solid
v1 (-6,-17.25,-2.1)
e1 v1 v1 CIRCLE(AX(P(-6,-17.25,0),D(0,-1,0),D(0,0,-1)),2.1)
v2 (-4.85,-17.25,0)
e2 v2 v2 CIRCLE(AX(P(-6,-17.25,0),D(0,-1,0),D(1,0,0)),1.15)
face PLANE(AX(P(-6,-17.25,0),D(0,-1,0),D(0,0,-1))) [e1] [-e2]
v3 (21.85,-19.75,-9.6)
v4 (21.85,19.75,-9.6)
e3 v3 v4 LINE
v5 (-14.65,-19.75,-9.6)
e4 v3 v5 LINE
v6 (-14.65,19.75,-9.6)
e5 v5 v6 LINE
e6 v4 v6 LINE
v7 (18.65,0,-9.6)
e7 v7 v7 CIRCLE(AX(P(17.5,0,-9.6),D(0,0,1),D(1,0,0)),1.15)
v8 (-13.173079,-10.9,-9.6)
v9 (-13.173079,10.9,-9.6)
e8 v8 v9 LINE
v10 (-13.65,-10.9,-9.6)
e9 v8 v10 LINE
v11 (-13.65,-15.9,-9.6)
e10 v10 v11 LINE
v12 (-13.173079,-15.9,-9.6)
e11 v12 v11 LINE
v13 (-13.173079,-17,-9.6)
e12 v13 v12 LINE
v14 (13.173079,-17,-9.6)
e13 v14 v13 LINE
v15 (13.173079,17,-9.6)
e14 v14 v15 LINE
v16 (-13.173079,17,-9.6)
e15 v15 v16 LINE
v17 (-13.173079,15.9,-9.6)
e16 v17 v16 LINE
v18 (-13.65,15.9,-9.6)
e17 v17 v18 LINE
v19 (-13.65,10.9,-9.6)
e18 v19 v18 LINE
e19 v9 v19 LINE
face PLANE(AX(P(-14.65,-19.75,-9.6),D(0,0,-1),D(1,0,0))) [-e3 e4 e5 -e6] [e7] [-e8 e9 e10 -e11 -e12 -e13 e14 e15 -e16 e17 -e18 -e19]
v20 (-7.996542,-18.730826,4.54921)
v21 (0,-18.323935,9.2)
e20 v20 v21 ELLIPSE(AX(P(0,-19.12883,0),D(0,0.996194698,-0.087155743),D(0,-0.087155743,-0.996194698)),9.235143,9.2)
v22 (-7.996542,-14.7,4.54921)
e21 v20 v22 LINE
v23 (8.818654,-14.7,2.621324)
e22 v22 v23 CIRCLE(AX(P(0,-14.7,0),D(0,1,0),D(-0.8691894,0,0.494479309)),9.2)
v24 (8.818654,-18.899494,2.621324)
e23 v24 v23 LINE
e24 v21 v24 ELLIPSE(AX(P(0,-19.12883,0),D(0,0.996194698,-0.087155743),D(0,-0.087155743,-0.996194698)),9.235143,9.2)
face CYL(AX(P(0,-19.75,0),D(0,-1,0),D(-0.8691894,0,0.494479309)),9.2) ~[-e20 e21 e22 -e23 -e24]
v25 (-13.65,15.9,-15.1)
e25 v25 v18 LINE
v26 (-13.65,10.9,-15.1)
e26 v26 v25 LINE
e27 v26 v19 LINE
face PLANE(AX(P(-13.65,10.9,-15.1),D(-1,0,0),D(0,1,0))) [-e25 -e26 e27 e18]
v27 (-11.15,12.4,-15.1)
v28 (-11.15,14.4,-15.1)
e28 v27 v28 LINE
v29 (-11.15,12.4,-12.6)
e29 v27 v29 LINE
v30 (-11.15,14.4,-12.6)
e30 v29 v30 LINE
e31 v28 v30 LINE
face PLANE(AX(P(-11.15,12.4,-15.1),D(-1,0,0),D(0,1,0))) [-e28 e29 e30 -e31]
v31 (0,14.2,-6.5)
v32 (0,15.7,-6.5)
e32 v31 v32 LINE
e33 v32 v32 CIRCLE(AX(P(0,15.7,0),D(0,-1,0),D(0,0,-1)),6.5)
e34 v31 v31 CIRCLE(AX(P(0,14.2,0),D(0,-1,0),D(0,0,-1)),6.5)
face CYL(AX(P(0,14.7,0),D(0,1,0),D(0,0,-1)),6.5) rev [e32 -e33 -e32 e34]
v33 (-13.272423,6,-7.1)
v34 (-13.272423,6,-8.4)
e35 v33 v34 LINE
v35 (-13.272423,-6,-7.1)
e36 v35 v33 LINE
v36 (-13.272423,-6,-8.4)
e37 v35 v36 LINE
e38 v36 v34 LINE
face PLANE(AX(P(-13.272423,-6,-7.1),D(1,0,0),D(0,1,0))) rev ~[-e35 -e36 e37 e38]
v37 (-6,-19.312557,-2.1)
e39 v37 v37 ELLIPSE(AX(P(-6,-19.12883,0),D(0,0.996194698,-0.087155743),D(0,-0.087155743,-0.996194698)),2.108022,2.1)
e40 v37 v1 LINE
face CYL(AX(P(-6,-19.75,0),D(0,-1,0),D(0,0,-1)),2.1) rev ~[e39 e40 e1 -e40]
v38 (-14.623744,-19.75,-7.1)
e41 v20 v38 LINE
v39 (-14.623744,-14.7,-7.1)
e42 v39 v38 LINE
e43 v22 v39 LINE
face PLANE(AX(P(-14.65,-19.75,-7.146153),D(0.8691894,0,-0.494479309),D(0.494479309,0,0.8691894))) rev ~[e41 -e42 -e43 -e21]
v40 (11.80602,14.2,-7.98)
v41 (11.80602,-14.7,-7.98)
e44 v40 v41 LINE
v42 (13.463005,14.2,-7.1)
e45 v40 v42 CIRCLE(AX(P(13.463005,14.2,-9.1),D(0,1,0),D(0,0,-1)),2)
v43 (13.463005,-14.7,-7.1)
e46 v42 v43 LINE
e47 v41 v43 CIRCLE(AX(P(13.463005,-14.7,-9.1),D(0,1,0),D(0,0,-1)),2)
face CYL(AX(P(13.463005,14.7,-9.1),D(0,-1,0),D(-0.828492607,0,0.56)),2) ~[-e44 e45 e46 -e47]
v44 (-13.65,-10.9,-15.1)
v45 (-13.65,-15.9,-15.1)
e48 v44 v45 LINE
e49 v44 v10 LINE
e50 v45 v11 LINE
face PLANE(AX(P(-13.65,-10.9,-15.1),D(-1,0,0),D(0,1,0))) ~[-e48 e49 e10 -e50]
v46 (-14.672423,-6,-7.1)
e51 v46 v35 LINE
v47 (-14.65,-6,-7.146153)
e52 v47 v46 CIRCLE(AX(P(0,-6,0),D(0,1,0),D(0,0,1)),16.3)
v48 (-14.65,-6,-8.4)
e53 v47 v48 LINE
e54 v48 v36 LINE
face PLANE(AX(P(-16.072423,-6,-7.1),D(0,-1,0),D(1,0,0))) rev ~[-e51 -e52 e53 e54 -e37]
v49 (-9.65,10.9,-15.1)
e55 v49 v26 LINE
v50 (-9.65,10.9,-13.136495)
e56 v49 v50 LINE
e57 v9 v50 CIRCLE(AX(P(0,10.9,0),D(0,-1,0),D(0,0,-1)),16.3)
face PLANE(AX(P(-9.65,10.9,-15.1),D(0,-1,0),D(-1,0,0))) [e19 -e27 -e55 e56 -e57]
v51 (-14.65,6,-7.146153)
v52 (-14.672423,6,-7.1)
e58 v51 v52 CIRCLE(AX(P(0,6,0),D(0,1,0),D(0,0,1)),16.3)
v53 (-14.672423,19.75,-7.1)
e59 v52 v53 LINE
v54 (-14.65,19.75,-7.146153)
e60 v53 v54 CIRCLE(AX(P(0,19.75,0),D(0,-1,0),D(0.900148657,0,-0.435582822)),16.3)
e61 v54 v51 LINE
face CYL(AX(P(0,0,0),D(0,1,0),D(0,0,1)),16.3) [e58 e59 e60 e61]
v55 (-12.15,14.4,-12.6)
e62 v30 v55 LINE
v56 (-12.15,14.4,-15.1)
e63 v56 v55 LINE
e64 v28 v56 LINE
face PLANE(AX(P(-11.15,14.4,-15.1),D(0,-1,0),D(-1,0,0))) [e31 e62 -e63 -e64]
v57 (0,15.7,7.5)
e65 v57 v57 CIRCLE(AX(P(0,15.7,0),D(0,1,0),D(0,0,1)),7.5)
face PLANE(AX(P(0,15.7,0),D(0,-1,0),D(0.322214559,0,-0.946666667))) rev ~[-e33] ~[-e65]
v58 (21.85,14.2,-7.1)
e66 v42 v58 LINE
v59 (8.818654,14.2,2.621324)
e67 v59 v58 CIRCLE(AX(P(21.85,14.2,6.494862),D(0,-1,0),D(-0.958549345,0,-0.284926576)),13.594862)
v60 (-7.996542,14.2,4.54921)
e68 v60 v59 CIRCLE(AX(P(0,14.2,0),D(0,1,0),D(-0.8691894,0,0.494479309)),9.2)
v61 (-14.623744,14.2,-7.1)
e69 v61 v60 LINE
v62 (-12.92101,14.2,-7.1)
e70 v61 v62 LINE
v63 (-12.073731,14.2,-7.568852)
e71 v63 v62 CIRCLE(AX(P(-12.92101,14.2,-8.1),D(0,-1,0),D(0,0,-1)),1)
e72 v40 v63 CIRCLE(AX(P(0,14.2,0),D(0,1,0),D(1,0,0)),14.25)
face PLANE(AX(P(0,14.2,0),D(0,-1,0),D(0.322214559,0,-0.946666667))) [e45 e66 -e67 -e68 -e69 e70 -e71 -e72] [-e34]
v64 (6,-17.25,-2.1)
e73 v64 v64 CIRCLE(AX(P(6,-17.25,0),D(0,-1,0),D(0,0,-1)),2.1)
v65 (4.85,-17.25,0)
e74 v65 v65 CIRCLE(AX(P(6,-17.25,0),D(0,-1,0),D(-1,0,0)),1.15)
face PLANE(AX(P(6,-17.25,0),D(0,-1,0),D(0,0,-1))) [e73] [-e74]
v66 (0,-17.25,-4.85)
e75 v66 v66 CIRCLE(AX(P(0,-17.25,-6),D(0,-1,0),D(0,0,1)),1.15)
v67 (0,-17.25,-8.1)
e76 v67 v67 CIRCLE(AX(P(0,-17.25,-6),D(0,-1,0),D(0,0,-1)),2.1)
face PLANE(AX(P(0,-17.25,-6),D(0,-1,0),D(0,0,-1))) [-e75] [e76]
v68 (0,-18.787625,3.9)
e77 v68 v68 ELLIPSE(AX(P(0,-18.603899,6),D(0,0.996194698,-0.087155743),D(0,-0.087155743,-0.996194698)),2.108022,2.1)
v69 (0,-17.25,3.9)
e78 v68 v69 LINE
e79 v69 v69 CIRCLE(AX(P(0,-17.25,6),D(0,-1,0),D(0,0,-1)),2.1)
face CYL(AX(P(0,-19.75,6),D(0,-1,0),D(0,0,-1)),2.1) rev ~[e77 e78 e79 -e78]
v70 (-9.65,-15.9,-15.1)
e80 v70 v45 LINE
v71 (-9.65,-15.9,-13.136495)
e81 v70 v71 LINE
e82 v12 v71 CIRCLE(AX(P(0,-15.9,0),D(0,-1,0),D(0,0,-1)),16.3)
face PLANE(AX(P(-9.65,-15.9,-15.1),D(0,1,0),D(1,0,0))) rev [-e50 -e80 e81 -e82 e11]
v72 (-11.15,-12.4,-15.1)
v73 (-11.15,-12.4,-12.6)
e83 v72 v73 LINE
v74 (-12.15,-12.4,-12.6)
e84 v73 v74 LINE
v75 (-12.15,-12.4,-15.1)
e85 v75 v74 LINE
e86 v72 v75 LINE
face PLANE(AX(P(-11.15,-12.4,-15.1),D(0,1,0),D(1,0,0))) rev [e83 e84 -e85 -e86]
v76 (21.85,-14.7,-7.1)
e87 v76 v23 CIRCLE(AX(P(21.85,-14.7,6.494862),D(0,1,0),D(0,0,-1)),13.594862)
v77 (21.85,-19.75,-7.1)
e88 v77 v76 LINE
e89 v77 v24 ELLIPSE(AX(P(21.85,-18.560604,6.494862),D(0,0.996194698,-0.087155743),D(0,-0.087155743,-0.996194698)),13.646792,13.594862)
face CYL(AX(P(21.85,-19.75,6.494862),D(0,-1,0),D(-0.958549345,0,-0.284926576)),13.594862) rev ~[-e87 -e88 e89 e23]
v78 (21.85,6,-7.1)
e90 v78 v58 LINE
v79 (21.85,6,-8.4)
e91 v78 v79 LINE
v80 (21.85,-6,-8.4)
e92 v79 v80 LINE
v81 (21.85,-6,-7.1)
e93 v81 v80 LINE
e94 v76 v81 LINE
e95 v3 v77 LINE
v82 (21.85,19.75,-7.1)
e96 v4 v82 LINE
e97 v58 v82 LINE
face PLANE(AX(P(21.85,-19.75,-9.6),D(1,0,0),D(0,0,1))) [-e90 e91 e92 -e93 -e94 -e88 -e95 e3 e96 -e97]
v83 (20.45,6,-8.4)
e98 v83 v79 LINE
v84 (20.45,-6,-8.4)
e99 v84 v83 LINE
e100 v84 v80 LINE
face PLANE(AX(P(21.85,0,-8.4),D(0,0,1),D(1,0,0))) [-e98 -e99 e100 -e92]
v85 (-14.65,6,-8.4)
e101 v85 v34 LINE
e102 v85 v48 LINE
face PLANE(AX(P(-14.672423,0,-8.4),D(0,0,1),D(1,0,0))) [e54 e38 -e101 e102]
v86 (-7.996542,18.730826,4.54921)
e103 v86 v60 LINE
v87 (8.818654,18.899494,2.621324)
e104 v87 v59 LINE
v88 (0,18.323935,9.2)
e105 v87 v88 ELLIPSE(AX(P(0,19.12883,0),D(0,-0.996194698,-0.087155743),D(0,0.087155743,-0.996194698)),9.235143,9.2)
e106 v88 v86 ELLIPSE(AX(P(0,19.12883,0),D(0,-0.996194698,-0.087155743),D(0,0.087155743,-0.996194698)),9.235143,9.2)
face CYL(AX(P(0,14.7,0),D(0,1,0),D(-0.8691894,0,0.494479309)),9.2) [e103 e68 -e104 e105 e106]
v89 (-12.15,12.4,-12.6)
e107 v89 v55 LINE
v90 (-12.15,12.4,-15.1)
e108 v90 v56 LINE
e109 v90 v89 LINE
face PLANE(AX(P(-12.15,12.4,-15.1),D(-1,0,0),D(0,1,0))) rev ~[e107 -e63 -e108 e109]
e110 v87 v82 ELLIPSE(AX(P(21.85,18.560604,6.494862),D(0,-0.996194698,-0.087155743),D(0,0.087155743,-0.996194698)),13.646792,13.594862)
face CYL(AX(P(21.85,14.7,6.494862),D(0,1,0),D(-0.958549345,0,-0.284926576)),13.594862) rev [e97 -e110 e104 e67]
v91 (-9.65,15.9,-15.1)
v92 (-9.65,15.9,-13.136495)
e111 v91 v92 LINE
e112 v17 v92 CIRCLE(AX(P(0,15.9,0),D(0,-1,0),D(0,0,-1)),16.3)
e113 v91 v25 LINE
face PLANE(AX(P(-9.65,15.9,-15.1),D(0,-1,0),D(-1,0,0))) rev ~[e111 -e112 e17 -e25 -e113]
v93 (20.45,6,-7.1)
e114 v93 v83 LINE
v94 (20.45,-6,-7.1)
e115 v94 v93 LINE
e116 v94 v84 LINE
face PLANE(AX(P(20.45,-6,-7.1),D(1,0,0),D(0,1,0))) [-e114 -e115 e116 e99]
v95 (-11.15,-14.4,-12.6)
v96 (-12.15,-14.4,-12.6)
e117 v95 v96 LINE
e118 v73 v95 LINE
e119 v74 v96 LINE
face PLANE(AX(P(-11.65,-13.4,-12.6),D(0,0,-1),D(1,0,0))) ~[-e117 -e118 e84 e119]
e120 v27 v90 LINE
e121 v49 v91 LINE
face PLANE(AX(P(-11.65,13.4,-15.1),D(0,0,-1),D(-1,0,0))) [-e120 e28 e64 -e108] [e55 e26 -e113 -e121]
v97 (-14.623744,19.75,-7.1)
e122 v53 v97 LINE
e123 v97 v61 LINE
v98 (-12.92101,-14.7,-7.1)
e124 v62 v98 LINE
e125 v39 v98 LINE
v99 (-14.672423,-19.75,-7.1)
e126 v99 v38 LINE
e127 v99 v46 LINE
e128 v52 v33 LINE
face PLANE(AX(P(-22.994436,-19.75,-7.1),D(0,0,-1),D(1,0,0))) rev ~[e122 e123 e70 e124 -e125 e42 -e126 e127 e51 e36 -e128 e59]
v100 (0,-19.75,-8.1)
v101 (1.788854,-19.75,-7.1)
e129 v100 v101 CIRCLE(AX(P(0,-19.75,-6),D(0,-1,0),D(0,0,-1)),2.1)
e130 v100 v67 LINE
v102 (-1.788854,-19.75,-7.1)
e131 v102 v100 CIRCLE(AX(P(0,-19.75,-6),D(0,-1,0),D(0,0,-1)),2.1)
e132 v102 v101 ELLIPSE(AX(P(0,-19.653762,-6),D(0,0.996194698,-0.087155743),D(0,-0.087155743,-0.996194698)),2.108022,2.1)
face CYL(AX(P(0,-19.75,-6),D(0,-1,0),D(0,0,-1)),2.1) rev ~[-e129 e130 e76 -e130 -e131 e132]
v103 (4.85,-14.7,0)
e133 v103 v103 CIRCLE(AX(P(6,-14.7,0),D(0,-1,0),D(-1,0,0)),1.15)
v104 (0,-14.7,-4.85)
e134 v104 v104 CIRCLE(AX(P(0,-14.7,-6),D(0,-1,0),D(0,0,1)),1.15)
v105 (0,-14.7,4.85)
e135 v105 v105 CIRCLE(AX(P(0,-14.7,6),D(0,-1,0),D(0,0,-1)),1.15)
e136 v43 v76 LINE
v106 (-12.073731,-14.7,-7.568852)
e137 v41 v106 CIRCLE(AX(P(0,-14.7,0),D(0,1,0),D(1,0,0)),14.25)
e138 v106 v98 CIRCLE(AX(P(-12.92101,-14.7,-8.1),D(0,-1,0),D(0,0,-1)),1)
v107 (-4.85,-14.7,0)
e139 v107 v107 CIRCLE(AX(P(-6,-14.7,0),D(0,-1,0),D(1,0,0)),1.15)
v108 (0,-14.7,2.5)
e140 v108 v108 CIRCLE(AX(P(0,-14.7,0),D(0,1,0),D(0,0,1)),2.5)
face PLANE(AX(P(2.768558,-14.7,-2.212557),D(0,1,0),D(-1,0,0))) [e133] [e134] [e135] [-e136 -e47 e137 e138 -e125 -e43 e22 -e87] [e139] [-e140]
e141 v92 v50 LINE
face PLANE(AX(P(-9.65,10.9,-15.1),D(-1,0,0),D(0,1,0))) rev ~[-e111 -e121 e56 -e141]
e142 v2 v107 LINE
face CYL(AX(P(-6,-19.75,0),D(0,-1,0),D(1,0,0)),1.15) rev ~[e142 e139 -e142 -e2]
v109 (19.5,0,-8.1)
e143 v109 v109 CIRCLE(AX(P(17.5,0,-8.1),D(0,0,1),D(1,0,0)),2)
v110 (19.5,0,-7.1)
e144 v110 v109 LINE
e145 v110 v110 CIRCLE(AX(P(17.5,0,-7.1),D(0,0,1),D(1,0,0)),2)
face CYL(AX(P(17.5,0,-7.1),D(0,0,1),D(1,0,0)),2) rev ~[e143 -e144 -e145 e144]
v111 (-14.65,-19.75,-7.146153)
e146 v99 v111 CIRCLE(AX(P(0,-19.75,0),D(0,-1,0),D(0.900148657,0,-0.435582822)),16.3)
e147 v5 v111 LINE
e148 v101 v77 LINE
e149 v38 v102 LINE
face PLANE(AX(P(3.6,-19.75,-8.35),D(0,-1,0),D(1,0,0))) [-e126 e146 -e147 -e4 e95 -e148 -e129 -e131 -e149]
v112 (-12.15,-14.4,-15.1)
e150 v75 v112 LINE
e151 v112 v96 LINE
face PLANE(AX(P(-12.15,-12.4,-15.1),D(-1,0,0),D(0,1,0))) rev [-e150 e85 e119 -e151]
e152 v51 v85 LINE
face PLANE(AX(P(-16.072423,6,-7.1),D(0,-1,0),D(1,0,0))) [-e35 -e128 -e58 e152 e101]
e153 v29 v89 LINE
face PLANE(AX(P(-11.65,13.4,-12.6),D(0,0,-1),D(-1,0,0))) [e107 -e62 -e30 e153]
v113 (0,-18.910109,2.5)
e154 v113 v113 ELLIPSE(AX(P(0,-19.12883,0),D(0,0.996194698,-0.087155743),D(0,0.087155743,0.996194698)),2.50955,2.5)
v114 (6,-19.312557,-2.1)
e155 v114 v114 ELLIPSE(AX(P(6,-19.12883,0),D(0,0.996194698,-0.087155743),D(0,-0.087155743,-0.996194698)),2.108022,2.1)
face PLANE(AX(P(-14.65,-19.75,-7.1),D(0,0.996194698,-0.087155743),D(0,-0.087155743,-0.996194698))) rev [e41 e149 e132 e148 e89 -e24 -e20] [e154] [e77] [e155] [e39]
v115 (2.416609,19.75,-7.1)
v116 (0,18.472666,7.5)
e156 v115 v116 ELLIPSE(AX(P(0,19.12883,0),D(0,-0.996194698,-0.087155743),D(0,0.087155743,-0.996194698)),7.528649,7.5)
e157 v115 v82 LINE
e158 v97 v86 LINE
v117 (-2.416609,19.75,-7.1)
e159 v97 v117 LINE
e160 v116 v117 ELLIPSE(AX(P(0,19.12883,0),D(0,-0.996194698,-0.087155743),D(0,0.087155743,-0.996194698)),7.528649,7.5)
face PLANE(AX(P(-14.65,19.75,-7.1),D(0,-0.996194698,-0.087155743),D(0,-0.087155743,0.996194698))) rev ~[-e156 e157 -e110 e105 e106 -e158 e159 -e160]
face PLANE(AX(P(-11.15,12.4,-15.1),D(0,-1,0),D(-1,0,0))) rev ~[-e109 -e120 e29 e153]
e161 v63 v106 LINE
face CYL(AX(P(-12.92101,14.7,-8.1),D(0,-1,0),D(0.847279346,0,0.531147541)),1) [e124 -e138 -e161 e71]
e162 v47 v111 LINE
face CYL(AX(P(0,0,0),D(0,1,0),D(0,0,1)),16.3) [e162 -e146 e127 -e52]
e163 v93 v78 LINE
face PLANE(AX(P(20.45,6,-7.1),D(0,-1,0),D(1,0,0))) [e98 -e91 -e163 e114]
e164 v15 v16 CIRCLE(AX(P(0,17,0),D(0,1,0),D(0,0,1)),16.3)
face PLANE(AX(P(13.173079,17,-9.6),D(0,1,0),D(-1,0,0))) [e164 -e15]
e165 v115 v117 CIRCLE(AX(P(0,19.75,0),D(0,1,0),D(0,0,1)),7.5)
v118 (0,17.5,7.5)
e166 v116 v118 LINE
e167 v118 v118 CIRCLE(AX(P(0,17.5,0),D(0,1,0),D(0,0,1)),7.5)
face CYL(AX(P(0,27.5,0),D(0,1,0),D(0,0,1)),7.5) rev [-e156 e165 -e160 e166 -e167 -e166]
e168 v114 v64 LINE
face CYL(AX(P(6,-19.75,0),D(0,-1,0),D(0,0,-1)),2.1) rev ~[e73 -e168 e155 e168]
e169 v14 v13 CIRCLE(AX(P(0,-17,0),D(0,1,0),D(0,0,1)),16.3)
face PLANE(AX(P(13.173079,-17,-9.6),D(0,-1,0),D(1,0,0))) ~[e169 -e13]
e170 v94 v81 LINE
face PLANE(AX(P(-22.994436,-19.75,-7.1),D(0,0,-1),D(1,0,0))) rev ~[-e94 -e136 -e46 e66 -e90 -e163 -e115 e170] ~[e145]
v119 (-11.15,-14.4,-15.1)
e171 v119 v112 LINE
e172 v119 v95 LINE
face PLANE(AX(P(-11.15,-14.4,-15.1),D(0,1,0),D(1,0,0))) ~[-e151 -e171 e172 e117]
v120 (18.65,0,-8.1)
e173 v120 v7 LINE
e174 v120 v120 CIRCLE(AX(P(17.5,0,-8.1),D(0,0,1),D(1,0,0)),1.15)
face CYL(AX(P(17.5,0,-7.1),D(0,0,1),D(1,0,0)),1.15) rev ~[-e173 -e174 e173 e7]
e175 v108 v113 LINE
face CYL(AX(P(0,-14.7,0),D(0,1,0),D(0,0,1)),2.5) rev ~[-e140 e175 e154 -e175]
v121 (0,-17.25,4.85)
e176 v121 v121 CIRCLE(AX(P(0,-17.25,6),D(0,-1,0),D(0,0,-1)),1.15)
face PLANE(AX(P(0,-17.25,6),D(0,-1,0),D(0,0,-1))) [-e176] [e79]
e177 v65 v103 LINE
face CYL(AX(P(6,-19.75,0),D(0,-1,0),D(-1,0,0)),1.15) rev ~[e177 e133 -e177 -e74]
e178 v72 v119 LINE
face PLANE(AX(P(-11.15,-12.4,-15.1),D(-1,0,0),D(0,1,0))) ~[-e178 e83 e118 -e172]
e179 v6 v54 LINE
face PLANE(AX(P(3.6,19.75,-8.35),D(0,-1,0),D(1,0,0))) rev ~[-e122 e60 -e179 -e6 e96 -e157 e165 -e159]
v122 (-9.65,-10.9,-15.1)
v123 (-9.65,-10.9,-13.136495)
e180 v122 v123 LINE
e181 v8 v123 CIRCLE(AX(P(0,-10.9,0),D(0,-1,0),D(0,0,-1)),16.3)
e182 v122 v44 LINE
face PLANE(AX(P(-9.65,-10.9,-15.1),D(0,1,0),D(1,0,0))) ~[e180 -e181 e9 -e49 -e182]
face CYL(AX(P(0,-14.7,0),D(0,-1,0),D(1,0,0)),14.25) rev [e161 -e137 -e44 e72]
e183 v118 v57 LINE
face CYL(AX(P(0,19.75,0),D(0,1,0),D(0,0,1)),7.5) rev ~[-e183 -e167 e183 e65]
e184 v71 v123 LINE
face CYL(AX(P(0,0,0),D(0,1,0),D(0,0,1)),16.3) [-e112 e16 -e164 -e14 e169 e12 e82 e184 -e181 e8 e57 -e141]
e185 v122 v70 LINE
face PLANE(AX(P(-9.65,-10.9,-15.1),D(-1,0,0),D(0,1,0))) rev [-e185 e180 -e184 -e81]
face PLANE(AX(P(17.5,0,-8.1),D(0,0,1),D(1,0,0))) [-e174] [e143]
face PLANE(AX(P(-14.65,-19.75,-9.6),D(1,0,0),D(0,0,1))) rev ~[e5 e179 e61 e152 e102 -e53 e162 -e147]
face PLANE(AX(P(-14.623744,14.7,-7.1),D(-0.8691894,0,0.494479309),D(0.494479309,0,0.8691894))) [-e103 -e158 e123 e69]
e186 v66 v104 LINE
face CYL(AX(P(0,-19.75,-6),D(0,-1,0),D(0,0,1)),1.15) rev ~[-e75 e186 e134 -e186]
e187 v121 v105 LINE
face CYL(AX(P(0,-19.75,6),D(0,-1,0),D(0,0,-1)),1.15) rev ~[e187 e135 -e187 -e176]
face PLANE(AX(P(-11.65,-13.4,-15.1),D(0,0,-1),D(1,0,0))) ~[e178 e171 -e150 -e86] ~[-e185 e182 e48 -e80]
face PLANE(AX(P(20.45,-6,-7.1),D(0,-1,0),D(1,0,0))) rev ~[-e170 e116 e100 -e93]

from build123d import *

# Parameters (mm, degrees)
SKETCH_1_R               = 16.3
EXTRUDE_1_DEPTH          = 19.75
SKETCH_2_W               = 36.5
SKETCH_2_H               = 2.5
EXTRUDE_2_DEPTH          = 39.5
SKETCH_3_W               = 44.844436064
SKETCH_3_H               = 25.506740045
CUT_EXTRUDE_1_DEPTH      = 50
EXTRUDE_3_DEPTH          = 5.05
SKETCH_5_R               = 14.25
CUT_EXTRUDE_2_DEPTH      = 29.4
SKETCH_6_R               = 2.5
CUT_EXTRUDE_3_DEPTH      = 44.930797853
CUT_EXTRUDE_6_REACH      = 49.993
SKETCH_9_R               = 7.5
SKETCH_12_R              = 1.15
CUT_EXTRUDE_9_DEPTH      = 34.662664779
SKETCH_13_R              = 2
CUT_EXTRUDE_10_DEPTH     = 1
SKETCH_14_W              = 2.8
SKETCH_14_H              = 12
CUT_EXTRUDE_11_DEPTH     = 1.3
SKETCH_15_W              = 2.8
SKETCH_15_H              = 12
CUT_EXTRUDE_12_DEPTH     = 1.3
EXTRUDE_5_REACH          = 40.183
EXTRUDE_5_END_RADIUS     = 16.3
SKETCH_16_W              = 4
SKETCH_16_H              = 5
SKETCH_17_W              = 1
SKETCH_17_H              = 2
CUT_EXTRUDE_13_DEPTH     = 2.5
SKETCH_19_R              = 8.51898124
SKETCH_19_R_2            = 6.5
EXTRUDE_6_DEPTH          = 2.25
CUT_EXTRUDE_18_REACH     = 49.993
SKETCH_20_R              = 1.15
PATTERN_CIRCULAR_1_COUNT = 4
CUT_EXTRUDE_8_DEPTH      = 45.587021654
SKETCH_18_W              = 26.346157216
SKETCH_18_H              = 2.75
CUT_EXTRUDE_16_DEPTH     = 12.5
FILLET_1_R               = 2
FILLET_2_R               = 1
SKETCH_21_R              = 2.1
CUT_EXTRUDE_19_DEPTH     = 2.5
CUT_EXTRUDE_START        = -10
SKETCH_22_R              = 7.5
CUT_EXTRUDE_23_DEPTH     = 10
EXTRUDE_START            = -1
SKETCH_23_R              = 7.5
SKETCH_23_R_2            = 6.5
EXTRUDE_7_DEPTH          = 1
MOVE_FACE_3_BY           = 0.5


with BuildPart() as part:
    # 草图1 → 凸台-拉伸1 (new, symmetric)
    with BuildSketch(Plane(origin=(0, 0, 0), x_dir=(1, 0, 0), z_dir=(0, 1, 0))):
        with Locations(Location((0, 0, 0), (0, 0, 270))):
            Circle(SKETCH_1_R)
    extrude(amount=EXTRUDE_1_DEPTH, both=True)

    # 草图2 → 凸台-拉伸2 (add, through all)
    with BuildSketch(Plane.XZ.offset(19.75)):
        with Locations((3.6, -8.35)):
            Rectangle(SKETCH_2_W, SKETCH_2_H)
    extrude(amount=-EXTRUDE_2_DEPTH)

    # 草图3 → 切除-拉伸1 (cut)
    with BuildSketch(Plane.XZ.offset(19.75)):
        with Locations((-0.572218032, 5.653370022)):
            Rectangle(SKETCH_3_W, SKETCH_3_H)
    extrude(amount=-CUT_EXTRUDE_1_DEPTH, mode=Mode.SUBTRACT)

    # 草图4 → 凸台-拉伸3 (add)
    with BuildSketch(Plane.XZ.offset(19.75)):
        with BuildLine():
            Line((-14.65, -7.146152811), (-7.996542478, 4.549209646))
            ThreePointArc((-7.996542478, 4.549209646), (1.047927533, 9.140122969), (8.818653972, 2.621324497))
            ThreePointArc((8.818653972, 2.621324497), (13.721037439, -4.401937543), (21.85, -7.1))
            Line((21.85, -7.1), (-14.65, -7.146152811))
        make_face()
    extrude_3 = extrude(amount=-EXTRUDE_3_DEPTH)

    # 镜向1: 凸台-拉伸3 across plane
    add(extrude_3.mirror(Plane.ZX))

    # 草图5 → 切除-拉伸2 (cut)
    with BuildSketch(Plane(origin=(0, -14.7, 0), x_dir=(1, 0, 0), z_dir=(0, 1, 0))):
        Circle(SKETCH_5_R)
    extrude(amount=CUT_EXTRUDE_2_DEPTH, mode=Mode.SUBTRACT)

    # 草图6 → 切除-拉伸3 (cut, through all)
    with BuildSketch(Plane(origin=(0, -14.7, 0), x_dir=(1, 0, 0), z_dir=(0, 1, 0))):
        with Locations(Location((0, 0, 0), (0, 0, 270))):
            Circle(SKETCH_6_R)
    extrude(amount=-CUT_EXTRUDE_3_DEPTH, mode=Mode.SUBTRACT)

    # 草图9 → 切除-拉伸6 (cut, up to next)
    with BuildSketch(Plane(origin=(0, 19.75, 0), x_dir=(1, 0, 0), z_dir=(0, 1, 0)), mode=Mode.PRIVATE) as cut_extrude_6_sk1:
        with Locations(Location((0, 0, 0), (0, 0, 270))):
            Circle(SKETCH_9_R)
    cut_extrude_6_tool1 = extrude(cut_extrude_6_sk1.sketch, amount=-CUT_EXTRUDE_6_REACH, mode=Mode.PRIVATE) & part.part
    add(cut_extrude_6_tool1.solids().sort_by_distance((0, 19.75, 0))[0], mode=Mode.SUBTRACT)

    # 草图12 → 切除-拉伸9 (cut, through all)
    with BuildSketch(Plane.XY.offset(-7.1)):
        with Locations((17.5, 0)):
            Circle(SKETCH_12_R)
    extrude(amount=-CUT_EXTRUDE_9_DEPTH, mode=Mode.SUBTRACT)

    # 草图13 → 切除-拉伸10 (cut)
    with BuildSketch(Plane.XY.offset(-7.1)):
        with Locations((17.5, 0)):
            Circle(SKETCH_13_R)
    extrude(amount=-CUT_EXTRUDE_10_DEPTH, mode=Mode.SUBTRACT)

    # 草图14 → 切除-拉伸11 (cut)
    with BuildSketch(Plane.XY.offset(-7.1)):
        with Locations((21.85, 0)):
            Rectangle(SKETCH_14_W, SKETCH_14_H)
    extrude(amount=-CUT_EXTRUDE_11_DEPTH, mode=Mode.SUBTRACT)

    # 草图15 → 切除-拉伸12 (cut)
    with BuildSketch(Plane.XY.offset(-7.1)):
        with Locations((-14.672423113, 0)):
            Rectangle(SKETCH_15_W, SKETCH_15_H)
    extrude(amount=-CUT_EXTRUDE_12_DEPTH, mode=Mode.SUBTRACT)

    # 凸台-拉伸5: up to this cylinder (the profile starts outside it)
    extrude_5_end = Plane(origin=(0, 13.4, 0), z_dir=(0, -1, 0)) * Cylinder(EXTRUDE_5_END_RADIUS, 113.966, mode=Mode.PRIVATE)
    # 草图16 → 凸台-拉伸5 (add, up to the surface)
    with BuildSketch(Plane(origin=(0, 0, -15.1), x_dir=(-1, 0, 0), z_dir=(0, 0, -1)), mode=Mode.PRIVATE) as extrude_5_sk1:
        with Locations((11.65, 13.4)):
            Rectangle(SKETCH_16_W, SKETCH_16_H)
    extrude_5_tool1 = extrude(extrude_5_sk1.sketch, amount=-EXTRUDE_5_REACH, mode=Mode.PRIVATE) - extrude_5_end
    extrude_5 = extrude_5_tool1.solids().sort_by_distance((-11.65, 13.4, -15.1))[0]
    add(extrude_5)

    # 镜向4: 凸台-拉伸5 across plane
    add(extrude_5.mirror(Plane.ZX))

    # 草图17 → 切除-拉伸13 (cut)
    with BuildSketch(Plane(origin=(0, 0, -15.1), x_dir=(-1, 0, 0), z_dir=(0, 0, -1))):
        with Locations((11.65, 13.4)):
            Rectangle(SKETCH_17_W, SKETCH_17_H)
    cut_extrude_13 = extrude(amount=-CUT_EXTRUDE_13_DEPTH, mode=Mode.SUBTRACT)

    # 镜向5: 切除-拉伸13 across plane
    add(cut_extrude_13.mirror(Plane.ZX), mode=Mode.SUBTRACT)

    # 草图19 → 凸台-拉伸6 (add)
    with BuildSketch(Plane(origin=(0, 19.75, 0), x_dir=(1, 0, 0), z_dir=(0, 1, 0))):
        Circle(SKETCH_19_R)
        with Locations(Location((0, 0, 0), (0, 0, 270))):
            Circle(SKETCH_19_R_2, mode=Mode.SUBTRACT)
    extrude(amount=-EXTRUDE_6_DEPTH)

    # 草图20 → 切除-拉伸18 (cut, up to next)
    with BuildSketch(Plane.XZ.offset(19.75), mode=Mode.PRIVATE) as cut_extrude_18_sk1:
        with Locations(Location((0, 6, 0), (0, 0, 270))):
            Circle(SKETCH_20_R)
    cut_extrude_18_tool1 = extrude(cut_extrude_18_sk1.sketch, amount=-CUT_EXTRUDE_18_REACH, mode=Mode.PRIVATE) & part.part
    cut_extrude_18 = cut_extrude_18_tool1.solids().sort_by_distance((0, -19.75, 6))[0]
    add(cut_extrude_18, mode=Mode.SUBTRACT)

    # 阵列(圆周)1: 切除-拉伸18 ×4 about axis
    pattern_circular_1_axis = Axis((0, 0, 0), (0, 1, 0))
    for i in range(1, PATTERN_CIRCULAR_1_COUNT):
        add(cut_extrude_18.rotate(pattern_circular_1_axis, i * 360 / PATTERN_CIRCULAR_1_COUNT), mode=Mode.SUBTRACT)

    # 草图7 → 切除-拉伸8 (cut, through all)
    with BuildSketch(Plane.ZY.offset(14.65)):
        Polygon((-7.1, 19.75), (9.2, 18.323934785), (9.2, 19.75), align=None)
    cut_extrude_8 = extrude(amount=-CUT_EXTRUDE_8_DEPTH, mode=Mode.SUBTRACT)

    # 镜向3: 切除-拉伸8 across plane
    add(cut_extrude_8.mirror(Plane.ZX), mode=Mode.SUBTRACT)

    # 草图18 → 切除-拉伸16 (cut)
    with BuildSketch(Plane(origin=(0, 0, -9.6), x_dir=(-1, 0, 0), z_dir=(0, 0, -1))):
        with Locations((0, 18.375)):
            Rectangle(SKETCH_18_W, SKETCH_18_H)
    cut_extrude_16 = extrude(amount=CUT_EXTRUDE_16_DEPTH, mode=Mode.SUBTRACT)

    # 镜向6: 切除-拉伸16 across plane
    add(cut_extrude_16.mirror(Plane.ZX), mode=Mode.SUBTRACT)

    # 圆角1
    fillet_1_edges = [part.edges().sort_by_distance(p)[0] for p in [
        (12.355262037, 0, -7.1),
    ]]
    fillet(fillet_1_edges, radius=FILLET_1_R)

    # 圆角2
    fillet_2_edges = [part.edges().sort_by_distance(p)[0] for p in [
        (-12.355262037, 0, -7.1),
    ]]
    fillet(fillet_2_edges, radius=FILLET_2_R)

    # 草图21 → 切除-拉伸19 (cut)
    with BuildSketch(Plane.XZ.offset(19.75)):
        with Locations(Location((0, 6, 0), (0, 0, 270))):
            Circle(SKETCH_21_R)
        with Locations(Location((-6, 0, 0), (0, 0, 270))):
            Circle(SKETCH_21_R)
        with Locations(Location((6, 0, 0), (0, 0, 270))):
            Circle(SKETCH_21_R)
        with Locations(Location((0, -6, 0), (0, 0, 270))):
            Circle(SKETCH_21_R)
    extrude(amount=-CUT_EXTRUDE_19_DEPTH, mode=Mode.SUBTRACT)

    # 草图22 → 切除-拉伸23 (cut)
    with BuildSketch(Plane.XZ.offset(-17.5).offset(CUT_EXTRUDE_START)):
        with Locations(Location((0, 0, 0), (0, 0, 90))):
            Circle(SKETCH_22_R)
    extrude(amount=CUT_EXTRUDE_23_DEPTH, mode=Mode.SUBTRACT)

    # 草图23 → 凸台-拉伸7 (add)
    with BuildSketch(Plane.XZ.offset(-14.7).offset(EXTRUDE_START)):
        with Locations(Location((0, 0, 0), (0, 0, 288.796905035))):
            Circle(SKETCH_23_R)
        with Locations(Location((0, 0, 0), (0, 0, 270))):
            Circle(SKETCH_23_R_2, mode=Mode.SUBTRACT)
    extrude(amount=EXTRUDE_7_DEPTH)

    # Move Face 3: a face moved outward by 0.5
    extrude(part.faces().sort_by_distance((3.6131281, 14.7, -8.3875))[0], amount=MOVE_FACE_3_BY, dir=(0, -1, 0))


solid = part.part
